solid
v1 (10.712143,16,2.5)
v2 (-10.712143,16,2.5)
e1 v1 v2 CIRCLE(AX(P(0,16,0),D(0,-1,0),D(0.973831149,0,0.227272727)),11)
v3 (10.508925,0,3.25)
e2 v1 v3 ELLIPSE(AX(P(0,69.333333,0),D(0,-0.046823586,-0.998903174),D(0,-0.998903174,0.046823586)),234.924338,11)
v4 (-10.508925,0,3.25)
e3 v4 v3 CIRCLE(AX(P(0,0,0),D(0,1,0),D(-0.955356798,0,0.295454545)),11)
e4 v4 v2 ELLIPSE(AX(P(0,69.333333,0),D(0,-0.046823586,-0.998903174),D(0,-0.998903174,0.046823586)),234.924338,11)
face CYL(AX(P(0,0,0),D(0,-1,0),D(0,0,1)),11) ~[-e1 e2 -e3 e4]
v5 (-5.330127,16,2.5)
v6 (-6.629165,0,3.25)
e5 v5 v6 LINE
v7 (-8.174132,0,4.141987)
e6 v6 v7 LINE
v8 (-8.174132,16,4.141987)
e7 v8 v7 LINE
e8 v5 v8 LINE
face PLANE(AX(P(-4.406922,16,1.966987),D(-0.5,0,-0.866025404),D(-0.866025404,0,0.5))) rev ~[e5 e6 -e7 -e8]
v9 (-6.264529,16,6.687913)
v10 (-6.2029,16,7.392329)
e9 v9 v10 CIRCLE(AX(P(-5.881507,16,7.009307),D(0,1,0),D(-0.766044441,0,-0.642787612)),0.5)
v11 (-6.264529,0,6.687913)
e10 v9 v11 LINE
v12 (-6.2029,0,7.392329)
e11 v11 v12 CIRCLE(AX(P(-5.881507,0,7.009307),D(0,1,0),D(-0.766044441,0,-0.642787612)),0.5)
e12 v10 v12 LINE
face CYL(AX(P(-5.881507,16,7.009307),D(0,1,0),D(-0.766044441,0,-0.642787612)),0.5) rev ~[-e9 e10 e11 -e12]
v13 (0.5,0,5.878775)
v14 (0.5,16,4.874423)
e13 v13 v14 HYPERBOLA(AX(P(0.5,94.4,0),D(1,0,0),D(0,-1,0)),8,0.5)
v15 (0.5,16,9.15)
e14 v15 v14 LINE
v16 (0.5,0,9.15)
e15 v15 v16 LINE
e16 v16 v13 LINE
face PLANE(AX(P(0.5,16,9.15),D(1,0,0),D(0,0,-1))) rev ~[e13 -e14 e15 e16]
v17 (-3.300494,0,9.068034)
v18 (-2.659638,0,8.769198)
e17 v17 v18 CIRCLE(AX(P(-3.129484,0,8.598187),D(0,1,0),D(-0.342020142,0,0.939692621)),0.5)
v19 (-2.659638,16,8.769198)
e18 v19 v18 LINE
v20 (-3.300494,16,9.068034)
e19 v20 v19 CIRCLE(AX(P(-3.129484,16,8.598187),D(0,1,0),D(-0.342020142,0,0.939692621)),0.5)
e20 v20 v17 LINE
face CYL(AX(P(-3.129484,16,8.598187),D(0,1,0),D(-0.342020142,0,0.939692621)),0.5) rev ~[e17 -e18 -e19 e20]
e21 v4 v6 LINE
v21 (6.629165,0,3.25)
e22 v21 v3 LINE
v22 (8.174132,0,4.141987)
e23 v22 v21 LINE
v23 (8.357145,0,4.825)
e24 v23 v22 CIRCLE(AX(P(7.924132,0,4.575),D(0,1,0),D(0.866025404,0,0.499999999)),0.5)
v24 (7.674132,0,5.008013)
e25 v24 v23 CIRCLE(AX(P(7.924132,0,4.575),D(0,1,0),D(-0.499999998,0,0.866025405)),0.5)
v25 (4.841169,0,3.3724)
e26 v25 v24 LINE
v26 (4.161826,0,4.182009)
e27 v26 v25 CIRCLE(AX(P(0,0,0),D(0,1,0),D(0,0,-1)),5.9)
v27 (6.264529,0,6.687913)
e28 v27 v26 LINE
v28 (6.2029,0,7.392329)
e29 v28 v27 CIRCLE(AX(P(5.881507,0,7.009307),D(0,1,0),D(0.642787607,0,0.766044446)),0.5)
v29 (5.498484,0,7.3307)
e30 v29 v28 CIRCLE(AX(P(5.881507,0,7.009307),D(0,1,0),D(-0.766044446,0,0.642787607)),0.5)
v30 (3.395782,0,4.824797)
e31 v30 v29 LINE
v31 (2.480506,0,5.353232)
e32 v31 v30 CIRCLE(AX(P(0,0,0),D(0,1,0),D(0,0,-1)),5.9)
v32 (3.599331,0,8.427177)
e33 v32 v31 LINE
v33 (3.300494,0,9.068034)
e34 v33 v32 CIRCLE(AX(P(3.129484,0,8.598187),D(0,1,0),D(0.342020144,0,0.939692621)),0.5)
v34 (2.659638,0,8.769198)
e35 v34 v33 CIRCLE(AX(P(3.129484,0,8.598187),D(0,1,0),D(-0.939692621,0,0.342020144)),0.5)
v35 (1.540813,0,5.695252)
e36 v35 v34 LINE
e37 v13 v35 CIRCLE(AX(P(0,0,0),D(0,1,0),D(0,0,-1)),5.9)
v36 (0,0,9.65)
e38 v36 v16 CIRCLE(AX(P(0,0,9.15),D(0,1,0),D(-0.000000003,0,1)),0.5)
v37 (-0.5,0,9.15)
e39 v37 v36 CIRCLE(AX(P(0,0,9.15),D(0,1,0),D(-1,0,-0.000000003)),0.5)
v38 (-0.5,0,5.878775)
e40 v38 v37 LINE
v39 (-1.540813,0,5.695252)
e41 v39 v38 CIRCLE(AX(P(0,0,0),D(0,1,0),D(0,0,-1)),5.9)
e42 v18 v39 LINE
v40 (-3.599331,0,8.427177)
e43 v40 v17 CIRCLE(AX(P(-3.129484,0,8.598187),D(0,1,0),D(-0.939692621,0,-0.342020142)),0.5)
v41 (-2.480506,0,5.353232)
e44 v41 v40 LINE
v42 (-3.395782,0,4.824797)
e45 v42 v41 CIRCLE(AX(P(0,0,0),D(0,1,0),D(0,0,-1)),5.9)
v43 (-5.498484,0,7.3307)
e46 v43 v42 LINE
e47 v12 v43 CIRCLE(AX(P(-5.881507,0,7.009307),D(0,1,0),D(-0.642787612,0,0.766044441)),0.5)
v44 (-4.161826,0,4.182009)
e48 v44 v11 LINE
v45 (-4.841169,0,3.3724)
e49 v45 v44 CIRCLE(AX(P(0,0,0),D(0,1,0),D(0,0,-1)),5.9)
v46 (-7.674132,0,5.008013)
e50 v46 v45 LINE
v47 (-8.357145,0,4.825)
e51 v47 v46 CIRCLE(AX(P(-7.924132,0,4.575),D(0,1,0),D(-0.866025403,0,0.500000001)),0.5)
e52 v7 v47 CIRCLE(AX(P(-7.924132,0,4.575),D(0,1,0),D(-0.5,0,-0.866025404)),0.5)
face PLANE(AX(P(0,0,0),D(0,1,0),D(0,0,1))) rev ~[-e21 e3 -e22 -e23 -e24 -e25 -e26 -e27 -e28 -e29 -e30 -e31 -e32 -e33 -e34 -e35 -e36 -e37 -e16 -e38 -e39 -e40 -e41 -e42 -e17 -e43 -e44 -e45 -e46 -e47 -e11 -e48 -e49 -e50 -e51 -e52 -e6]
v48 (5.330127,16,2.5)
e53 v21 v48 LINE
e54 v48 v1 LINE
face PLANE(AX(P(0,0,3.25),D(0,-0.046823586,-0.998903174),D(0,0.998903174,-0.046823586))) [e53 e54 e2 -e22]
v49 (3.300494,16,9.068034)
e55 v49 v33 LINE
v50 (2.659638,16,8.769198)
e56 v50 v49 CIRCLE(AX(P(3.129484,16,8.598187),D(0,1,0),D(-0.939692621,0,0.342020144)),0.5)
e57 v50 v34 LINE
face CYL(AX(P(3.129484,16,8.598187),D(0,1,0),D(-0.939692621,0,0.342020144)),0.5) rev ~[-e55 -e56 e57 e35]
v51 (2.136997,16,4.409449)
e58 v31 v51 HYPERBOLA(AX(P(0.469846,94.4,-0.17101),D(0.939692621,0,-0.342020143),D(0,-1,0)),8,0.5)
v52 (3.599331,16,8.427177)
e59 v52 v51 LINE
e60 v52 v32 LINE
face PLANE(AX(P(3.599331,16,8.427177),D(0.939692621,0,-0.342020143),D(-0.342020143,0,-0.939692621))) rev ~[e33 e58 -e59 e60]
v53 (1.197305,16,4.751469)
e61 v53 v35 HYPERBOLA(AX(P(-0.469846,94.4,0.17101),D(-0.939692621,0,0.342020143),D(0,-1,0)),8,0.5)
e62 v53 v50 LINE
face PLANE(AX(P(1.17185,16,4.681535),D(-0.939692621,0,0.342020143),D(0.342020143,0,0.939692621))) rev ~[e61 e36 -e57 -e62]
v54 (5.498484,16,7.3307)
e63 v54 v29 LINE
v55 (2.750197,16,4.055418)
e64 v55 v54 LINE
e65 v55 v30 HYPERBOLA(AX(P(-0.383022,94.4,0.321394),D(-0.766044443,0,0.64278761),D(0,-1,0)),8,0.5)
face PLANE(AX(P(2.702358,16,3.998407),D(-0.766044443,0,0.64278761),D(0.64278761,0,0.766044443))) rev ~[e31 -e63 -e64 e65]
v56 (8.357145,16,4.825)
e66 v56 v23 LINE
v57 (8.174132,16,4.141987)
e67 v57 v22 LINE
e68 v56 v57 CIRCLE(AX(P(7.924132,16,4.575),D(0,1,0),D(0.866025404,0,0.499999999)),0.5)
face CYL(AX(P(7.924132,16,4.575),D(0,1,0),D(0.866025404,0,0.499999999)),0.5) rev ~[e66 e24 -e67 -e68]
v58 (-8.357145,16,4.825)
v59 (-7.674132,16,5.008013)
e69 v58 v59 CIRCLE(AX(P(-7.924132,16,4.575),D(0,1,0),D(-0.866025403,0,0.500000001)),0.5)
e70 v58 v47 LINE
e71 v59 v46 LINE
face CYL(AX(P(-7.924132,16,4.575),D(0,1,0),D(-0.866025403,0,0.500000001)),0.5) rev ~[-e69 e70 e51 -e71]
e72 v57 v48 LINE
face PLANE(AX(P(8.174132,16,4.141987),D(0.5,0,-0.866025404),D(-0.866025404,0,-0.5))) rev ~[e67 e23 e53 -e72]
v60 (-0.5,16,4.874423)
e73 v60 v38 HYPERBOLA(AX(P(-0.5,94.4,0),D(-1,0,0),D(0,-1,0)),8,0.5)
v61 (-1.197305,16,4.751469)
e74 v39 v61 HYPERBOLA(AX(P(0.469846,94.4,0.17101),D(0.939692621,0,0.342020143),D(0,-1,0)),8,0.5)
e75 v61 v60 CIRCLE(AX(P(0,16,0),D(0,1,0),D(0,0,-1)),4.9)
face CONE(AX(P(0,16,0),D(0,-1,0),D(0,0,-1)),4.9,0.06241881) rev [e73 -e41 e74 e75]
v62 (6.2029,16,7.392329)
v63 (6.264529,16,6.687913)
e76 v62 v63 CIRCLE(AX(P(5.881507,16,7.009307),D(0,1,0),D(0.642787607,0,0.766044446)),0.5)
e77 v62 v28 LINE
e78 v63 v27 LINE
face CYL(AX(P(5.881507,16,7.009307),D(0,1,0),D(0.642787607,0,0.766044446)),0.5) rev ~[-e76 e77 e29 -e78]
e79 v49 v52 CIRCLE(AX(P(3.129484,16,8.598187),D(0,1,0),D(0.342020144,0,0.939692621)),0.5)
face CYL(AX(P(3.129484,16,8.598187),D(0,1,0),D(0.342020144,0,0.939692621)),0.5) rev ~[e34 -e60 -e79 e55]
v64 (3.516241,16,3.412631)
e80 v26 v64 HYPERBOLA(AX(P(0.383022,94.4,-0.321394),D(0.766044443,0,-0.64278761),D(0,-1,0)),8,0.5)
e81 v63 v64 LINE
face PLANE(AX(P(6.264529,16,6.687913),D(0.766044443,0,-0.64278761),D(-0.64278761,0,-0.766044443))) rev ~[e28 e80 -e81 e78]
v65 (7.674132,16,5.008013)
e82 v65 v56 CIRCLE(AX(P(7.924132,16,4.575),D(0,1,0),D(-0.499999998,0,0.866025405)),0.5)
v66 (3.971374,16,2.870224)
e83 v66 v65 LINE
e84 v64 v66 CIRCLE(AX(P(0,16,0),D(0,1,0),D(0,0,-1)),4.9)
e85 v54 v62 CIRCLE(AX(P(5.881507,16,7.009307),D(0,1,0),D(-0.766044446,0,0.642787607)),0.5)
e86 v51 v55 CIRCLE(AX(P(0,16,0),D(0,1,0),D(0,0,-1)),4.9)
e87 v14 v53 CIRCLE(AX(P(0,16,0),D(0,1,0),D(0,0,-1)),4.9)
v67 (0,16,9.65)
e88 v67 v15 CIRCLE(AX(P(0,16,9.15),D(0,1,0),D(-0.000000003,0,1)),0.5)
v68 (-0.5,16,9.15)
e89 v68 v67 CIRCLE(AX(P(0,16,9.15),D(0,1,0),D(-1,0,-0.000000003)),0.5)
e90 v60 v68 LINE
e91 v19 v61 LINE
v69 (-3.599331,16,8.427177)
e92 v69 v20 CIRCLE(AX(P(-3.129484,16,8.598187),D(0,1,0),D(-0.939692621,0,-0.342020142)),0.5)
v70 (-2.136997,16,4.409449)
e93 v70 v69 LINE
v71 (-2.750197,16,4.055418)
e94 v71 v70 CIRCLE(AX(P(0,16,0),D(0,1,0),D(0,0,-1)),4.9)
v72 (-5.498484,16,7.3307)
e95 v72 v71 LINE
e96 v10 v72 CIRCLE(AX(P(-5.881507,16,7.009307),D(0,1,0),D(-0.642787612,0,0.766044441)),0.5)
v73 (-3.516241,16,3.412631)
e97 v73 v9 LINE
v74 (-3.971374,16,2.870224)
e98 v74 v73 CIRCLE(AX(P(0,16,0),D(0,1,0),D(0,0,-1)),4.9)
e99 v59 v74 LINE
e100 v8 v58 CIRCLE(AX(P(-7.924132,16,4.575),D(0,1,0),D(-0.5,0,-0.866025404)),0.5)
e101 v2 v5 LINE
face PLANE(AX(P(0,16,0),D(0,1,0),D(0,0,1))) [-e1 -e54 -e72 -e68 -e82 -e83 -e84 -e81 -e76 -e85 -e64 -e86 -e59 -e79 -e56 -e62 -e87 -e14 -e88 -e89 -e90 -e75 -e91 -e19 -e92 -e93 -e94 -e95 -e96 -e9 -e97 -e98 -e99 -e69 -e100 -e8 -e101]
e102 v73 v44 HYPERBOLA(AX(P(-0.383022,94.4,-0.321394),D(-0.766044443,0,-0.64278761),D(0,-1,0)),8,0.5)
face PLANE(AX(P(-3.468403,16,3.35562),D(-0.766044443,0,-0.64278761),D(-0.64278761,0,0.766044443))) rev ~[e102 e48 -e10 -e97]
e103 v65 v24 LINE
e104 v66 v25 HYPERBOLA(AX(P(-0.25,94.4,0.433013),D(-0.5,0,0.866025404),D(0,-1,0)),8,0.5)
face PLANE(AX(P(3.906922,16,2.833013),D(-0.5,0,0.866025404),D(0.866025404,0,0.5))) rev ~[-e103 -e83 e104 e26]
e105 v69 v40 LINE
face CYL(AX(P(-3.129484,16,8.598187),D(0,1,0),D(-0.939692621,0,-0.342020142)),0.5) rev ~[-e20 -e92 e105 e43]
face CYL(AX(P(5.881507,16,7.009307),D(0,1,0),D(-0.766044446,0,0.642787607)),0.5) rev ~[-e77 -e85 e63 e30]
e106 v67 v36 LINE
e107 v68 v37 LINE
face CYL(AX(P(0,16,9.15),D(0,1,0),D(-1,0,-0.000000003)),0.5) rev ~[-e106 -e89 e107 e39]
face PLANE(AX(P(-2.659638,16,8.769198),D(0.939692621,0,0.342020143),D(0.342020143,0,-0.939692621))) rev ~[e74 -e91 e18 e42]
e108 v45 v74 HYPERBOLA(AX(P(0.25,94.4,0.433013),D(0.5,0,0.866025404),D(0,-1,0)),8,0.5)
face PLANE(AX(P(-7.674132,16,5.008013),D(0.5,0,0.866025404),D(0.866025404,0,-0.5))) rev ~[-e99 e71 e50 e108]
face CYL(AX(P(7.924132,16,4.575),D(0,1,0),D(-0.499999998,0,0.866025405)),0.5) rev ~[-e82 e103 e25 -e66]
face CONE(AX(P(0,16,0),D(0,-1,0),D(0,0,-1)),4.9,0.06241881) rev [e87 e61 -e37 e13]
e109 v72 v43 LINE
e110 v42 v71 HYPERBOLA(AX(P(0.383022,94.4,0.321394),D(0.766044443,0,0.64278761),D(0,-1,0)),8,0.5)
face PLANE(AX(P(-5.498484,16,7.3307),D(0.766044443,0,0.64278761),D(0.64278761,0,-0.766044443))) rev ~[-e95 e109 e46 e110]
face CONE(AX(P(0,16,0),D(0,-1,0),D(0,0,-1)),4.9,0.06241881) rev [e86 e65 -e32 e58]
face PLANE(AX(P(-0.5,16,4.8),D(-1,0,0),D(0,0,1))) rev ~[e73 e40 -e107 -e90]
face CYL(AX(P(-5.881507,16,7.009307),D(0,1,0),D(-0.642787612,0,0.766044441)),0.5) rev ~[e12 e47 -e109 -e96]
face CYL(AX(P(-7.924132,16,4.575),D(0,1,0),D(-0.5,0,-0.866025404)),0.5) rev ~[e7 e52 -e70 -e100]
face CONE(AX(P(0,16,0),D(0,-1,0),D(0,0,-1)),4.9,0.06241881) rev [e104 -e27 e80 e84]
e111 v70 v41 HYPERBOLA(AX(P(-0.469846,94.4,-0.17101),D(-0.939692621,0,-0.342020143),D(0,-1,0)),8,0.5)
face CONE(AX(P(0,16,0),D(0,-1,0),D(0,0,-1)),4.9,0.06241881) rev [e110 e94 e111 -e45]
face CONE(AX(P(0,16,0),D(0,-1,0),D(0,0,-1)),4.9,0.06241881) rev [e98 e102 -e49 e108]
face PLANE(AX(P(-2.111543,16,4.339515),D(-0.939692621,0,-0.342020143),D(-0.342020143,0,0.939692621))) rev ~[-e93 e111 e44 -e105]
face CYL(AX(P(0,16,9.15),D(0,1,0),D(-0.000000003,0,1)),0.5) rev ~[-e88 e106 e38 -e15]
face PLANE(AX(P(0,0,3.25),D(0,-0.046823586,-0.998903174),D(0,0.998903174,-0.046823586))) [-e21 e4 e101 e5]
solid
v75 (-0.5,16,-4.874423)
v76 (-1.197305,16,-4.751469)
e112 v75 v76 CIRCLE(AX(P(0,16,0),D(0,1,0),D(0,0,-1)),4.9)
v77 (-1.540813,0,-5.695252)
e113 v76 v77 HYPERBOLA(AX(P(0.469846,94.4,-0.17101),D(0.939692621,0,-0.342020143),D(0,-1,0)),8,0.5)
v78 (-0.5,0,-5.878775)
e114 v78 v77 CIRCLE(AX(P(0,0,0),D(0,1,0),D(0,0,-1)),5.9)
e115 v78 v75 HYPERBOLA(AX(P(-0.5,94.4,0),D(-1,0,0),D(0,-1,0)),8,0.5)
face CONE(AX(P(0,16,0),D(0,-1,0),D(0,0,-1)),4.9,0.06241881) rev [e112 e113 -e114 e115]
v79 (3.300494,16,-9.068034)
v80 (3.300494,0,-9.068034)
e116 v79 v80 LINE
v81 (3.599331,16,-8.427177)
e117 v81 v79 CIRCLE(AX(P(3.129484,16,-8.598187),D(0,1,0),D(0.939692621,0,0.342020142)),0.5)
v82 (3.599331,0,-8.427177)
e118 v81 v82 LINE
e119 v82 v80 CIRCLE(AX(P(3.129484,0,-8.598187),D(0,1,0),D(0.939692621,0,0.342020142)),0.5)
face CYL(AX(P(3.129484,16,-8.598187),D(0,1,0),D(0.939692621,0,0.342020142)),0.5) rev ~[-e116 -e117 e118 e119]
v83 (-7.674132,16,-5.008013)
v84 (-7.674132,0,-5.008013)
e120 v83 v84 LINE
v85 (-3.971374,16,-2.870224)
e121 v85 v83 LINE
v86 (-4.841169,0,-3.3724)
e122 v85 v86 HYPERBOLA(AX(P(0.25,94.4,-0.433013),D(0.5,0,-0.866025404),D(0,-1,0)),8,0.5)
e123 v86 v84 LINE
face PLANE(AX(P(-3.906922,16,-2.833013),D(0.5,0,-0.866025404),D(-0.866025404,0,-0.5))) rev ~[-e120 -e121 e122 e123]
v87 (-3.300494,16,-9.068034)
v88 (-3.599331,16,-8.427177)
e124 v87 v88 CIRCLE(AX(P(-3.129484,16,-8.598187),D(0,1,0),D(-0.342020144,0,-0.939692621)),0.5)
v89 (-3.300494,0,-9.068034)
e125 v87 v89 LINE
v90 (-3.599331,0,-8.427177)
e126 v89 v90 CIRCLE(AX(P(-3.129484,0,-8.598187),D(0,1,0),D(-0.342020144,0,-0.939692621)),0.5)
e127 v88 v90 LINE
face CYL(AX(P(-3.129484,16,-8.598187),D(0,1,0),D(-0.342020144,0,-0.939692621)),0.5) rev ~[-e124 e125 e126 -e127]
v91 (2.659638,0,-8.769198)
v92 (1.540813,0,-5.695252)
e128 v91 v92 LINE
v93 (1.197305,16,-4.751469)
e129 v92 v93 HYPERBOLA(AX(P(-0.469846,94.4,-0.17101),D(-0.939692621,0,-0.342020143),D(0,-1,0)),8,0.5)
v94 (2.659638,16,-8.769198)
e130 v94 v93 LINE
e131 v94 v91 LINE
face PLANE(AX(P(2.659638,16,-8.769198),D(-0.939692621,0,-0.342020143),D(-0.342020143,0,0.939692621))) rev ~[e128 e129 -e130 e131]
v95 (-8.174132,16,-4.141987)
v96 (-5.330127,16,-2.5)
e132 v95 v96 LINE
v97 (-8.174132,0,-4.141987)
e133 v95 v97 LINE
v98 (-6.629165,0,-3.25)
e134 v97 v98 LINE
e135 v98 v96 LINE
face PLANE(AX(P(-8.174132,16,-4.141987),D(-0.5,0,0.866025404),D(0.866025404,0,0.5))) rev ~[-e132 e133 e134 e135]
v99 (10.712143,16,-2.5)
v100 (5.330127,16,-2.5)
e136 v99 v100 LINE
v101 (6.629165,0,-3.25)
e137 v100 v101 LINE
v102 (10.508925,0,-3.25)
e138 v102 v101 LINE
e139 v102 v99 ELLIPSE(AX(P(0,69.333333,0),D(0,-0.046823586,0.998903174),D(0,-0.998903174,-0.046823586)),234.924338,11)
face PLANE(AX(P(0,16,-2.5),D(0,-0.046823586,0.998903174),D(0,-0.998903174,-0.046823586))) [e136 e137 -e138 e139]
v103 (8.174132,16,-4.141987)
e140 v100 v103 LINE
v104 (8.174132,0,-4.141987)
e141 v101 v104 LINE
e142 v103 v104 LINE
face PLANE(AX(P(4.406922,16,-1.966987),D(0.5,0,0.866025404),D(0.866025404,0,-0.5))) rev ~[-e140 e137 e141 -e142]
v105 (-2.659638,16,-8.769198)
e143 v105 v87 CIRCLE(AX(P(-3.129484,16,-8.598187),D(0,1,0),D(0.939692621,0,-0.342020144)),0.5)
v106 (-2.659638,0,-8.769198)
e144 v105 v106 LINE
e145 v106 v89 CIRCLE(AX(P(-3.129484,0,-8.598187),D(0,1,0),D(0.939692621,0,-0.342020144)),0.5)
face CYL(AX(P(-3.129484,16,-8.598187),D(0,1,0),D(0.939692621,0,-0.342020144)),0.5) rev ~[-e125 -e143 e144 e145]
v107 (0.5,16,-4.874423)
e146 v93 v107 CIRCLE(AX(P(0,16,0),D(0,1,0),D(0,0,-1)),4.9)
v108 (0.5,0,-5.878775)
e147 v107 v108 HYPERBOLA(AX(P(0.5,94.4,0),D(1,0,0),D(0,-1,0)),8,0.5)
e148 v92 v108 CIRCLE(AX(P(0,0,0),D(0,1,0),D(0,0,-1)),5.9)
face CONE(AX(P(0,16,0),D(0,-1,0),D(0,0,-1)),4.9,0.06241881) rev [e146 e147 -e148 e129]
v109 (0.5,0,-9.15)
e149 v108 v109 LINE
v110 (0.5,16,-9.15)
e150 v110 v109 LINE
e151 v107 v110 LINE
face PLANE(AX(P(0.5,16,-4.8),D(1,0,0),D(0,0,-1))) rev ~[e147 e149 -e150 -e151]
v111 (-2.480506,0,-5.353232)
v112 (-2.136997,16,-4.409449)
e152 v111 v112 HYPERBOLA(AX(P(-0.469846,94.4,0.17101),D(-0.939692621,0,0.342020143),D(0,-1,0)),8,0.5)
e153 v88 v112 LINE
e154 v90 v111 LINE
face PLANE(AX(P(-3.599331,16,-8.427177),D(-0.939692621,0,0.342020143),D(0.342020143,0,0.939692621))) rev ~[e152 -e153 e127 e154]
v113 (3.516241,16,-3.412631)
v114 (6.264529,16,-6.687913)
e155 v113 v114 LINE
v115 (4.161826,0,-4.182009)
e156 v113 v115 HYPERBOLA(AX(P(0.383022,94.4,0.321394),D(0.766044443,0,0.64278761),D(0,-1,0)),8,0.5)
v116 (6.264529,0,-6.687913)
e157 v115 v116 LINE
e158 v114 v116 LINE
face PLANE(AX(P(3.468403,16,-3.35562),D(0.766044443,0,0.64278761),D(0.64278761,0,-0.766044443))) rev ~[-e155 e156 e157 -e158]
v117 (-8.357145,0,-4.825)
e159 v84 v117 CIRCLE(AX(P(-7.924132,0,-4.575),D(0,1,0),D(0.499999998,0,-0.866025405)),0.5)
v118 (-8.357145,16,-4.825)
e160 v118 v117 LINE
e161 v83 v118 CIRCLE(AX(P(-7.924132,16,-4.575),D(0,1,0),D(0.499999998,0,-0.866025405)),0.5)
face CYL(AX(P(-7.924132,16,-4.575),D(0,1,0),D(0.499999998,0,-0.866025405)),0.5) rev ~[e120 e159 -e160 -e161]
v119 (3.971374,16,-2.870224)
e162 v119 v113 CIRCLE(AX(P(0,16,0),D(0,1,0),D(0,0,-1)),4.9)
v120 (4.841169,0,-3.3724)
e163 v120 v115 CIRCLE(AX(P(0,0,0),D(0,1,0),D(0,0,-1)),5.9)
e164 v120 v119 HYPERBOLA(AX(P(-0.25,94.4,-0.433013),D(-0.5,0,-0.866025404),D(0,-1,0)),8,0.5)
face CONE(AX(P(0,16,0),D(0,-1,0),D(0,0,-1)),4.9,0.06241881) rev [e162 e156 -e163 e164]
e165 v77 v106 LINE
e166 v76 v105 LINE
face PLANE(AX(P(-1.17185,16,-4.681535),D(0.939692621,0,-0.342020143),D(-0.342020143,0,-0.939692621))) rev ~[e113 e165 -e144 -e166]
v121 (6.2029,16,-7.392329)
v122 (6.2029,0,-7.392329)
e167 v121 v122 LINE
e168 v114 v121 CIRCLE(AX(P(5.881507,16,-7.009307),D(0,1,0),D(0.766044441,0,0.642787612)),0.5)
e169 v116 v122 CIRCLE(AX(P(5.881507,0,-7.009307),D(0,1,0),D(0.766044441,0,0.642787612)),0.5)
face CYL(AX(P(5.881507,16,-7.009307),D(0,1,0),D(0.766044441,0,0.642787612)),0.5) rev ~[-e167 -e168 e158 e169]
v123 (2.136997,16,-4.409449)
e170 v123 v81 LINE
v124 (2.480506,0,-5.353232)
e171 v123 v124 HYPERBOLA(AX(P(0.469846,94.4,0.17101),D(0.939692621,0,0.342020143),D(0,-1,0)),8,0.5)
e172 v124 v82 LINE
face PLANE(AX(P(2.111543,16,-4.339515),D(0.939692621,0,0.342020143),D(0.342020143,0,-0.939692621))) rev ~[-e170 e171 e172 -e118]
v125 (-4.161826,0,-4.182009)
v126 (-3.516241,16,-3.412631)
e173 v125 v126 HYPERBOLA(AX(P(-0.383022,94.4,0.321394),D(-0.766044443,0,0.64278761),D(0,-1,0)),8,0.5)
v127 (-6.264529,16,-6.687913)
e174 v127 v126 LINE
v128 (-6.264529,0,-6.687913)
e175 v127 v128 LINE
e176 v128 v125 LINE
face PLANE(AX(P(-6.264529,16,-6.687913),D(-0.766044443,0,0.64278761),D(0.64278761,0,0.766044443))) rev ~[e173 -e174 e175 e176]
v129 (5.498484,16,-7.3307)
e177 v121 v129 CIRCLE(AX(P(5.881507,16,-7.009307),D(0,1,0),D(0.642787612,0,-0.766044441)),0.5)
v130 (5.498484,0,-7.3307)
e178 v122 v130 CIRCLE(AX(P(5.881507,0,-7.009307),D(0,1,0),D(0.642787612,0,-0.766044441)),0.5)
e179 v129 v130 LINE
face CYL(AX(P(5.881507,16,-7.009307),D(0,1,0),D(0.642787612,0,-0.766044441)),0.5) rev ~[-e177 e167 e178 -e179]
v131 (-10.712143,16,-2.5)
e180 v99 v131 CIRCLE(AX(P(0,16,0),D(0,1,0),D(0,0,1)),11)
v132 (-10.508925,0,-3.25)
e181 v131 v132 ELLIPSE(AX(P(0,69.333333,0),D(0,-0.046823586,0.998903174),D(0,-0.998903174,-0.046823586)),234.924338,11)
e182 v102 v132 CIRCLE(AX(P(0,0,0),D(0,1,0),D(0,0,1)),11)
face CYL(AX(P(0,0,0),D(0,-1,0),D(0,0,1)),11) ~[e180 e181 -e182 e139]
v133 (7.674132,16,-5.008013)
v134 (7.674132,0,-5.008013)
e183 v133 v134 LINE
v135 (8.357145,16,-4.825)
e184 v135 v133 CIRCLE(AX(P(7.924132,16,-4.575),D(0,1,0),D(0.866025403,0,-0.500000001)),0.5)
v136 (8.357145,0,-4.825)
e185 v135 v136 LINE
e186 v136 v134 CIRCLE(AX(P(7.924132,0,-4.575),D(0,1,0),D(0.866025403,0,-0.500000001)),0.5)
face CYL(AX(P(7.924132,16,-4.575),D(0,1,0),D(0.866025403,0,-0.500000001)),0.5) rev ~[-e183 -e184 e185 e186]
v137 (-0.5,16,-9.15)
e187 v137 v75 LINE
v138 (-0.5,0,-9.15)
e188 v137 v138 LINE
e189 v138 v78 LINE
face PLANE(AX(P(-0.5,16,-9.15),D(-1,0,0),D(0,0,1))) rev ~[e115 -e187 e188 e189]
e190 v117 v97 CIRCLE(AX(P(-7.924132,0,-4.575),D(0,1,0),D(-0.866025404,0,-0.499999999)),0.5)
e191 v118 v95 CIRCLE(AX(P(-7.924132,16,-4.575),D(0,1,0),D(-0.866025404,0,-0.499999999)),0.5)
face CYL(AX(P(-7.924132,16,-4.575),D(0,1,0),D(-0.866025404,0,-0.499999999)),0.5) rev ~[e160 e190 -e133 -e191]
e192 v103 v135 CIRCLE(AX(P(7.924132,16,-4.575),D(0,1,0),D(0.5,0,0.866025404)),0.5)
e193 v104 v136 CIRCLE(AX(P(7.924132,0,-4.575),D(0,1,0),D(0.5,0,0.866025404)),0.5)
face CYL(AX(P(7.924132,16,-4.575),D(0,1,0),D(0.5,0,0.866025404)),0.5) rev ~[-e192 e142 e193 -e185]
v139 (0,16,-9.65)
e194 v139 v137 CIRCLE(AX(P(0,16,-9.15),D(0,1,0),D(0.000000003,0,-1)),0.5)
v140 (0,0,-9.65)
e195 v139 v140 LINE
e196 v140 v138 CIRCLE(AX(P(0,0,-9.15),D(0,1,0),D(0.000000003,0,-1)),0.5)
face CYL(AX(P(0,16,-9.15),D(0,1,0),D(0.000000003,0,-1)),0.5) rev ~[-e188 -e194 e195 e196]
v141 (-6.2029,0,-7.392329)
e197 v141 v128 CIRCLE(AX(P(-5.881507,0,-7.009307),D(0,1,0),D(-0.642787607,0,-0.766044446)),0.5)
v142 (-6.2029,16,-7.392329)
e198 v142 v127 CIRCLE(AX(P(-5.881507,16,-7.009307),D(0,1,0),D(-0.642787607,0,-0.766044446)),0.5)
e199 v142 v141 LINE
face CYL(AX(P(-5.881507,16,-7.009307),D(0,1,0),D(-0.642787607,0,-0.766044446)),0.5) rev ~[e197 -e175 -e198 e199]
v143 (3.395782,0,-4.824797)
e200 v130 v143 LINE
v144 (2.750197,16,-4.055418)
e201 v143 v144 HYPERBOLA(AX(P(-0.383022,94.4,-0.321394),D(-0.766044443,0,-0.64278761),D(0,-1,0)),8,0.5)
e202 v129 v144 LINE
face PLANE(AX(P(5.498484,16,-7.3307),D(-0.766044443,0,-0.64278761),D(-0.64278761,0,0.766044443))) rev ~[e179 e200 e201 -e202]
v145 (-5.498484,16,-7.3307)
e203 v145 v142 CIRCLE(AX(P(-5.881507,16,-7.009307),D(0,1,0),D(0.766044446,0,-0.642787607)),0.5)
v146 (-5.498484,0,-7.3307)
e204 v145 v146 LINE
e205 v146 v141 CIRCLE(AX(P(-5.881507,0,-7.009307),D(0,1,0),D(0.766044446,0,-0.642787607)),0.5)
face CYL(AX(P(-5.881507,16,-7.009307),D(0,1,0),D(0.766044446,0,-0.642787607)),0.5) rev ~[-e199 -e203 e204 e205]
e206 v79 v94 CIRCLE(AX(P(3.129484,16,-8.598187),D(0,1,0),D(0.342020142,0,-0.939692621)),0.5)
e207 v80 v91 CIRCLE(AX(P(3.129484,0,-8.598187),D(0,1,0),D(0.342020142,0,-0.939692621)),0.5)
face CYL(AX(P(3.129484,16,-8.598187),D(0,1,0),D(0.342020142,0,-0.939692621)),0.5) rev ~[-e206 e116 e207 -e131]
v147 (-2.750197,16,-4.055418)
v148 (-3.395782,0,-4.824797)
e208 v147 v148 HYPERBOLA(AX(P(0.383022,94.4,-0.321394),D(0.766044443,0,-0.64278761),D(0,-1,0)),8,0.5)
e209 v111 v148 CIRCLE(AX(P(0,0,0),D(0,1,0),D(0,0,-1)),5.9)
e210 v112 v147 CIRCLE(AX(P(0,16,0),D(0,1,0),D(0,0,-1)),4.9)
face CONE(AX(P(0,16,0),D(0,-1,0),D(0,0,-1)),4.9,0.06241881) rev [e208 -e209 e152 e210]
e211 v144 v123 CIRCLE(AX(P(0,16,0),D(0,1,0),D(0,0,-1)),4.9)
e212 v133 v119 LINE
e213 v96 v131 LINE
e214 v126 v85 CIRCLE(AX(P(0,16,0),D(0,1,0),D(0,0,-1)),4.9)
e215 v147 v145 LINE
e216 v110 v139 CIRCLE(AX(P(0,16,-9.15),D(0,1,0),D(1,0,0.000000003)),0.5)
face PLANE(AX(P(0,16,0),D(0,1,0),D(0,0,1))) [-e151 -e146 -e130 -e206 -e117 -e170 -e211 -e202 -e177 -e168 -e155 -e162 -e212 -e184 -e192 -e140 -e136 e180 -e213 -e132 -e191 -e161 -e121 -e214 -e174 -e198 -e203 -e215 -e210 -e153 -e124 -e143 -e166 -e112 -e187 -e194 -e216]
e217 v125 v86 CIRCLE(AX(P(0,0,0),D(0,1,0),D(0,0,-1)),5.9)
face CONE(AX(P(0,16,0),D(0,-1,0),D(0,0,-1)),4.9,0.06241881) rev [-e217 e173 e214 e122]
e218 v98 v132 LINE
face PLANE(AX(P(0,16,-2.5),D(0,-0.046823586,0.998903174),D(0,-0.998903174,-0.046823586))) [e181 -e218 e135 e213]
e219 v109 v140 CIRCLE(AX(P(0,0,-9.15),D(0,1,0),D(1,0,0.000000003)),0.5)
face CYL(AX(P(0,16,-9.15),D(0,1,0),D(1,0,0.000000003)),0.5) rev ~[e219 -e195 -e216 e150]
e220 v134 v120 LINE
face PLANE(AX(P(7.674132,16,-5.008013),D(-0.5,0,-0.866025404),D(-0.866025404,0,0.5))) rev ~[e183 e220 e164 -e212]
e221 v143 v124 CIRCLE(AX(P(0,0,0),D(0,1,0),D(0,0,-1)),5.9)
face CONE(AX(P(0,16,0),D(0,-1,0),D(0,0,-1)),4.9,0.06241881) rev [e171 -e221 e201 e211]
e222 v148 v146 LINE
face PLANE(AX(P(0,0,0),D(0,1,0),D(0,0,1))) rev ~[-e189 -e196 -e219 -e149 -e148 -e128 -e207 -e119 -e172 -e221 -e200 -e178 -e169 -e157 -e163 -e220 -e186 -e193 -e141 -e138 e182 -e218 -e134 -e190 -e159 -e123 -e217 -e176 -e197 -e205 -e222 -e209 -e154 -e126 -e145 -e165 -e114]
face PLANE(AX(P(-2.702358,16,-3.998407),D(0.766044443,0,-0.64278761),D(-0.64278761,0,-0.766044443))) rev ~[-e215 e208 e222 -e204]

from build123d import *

# Parameters (mm, degrees)
SKETCH1_R           = 11
BOSS_EXTRUDE1_DEPTH = 16
CUT_EXTRUDE1_DEPTH  = 23.315913604
CUT_EXTRUDE2_DEPTH  = 15


with BuildPart() as part:
    # Sketch1 → Boss-Extrude1 (new body)
    with BuildSketch(Plane(origin=(0, 0, 0), x_dir=(1, 0, 0), z_dir=(0, 1, 0))):
        with Locations(Location((0, 0, 0), (0, 0, 270))):
            Circle(SKETCH1_R)
    extrude(amount=BOSS_EXTRUDE1_DEPTH)

    # Sketch2 → Cut-Revolve1 (revolve, cut)
    with BuildSketch(Plane(origin=(0, 0, 0), x_dir=(0, 0, -1), z_dir=(1, 0, 0))):
        Polygon((0, 0), (0, 16), (4.9, 16), (5.9, 0), align=None)
    revolve(axis=Axis((0, 0, 0), (0, 1, 0)), mode=Mode.SUBTRACT)

    # Sketch3 → Cut-Extrude1 (cut, through all)
    with BuildSketch(Plane(origin=(0, 16, 0), x_dir=(1, 0, 0), z_dir=(0, 1, 0))):
        with BuildLine():
            Line((-0.5, 4.8), (0.5, 4.8))
            Line((0.5, 4.8), (0.5, 9.15))
            ThreePointArc((0.5, 9.15), (0.353553391, 9.503553391), (0, 9.65))
            ThreePointArc((0, 9.65), (-0.353553391, 9.503553391), (-0.5, 9.15))
            Line((-0.5, 9.15), (-0.5, 4.8))
        make_face()
        with BuildLine():
            Line((1.171850378, 4.681534651), (2.111542998, 4.339514508))
            Line((2.111542998, 4.339514508), (3.599330622, 8.427177409))
            ThreePointArc((3.599330622, 8.427177409), (3.582638205, 8.809496611), (3.300494383, 9.068033791))
            ThreePointArc((3.300494383, 9.068033791), (2.918175181, 9.051341374), (2.659638001, 8.769197552))
            Line((2.659638001, 8.769197552), (1.171850378, 4.681534651))
        make_face()
        with BuildLine():
            Line((2.702358305, 3.998407132), (3.468402748, 3.355619522))
            Line((3.468402748, 3.355619522), (6.26452885, 6.68791285))
            ThreePointArc((6.26452885, 6.68791285), (6.379603978, 7.052884526), (6.202900433, 7.392328876))
            ThreePointArc((6.202900433, 7.392328876), (5.837928757, 7.507404004), (5.498484407, 7.330700459))
            Line((5.498484407, 7.330700459), (2.702358305, 3.998407132))
        make_face()
        with BuildLine():
            Line((3.906921938, 2.833012702), (4.406921938, 1.966987298))
            Line((4.406921938, 1.966987298), (8.174132445, 4.141987298))
            ThreePointArc((8.174132445, 4.141987298), (8.407095358, 4.445590477), (8.357145147, 4.825))
            ThreePointArc((8.357145147, 4.825), (8.053541967, 5.057962913), (7.674132445, 5.008012702))
            Line((7.674132445, 5.008012702), (3.906921938, 2.833012702))
        make_face()
        with BuildLine():
            Line((4.640253126, 1.325915129), (4.813901303, 0.341107376))
            Line((4.813901303, 0.341107376), (9.097815029, 1.096476949))
            ThreePointArc((9.097815029, 1.096476949), (9.420566962, 1.302092607), (9.503394817, 1.675704914))
            ThreePointArc((9.503394817, 1.675704914), (9.297779158, 1.998456848), (8.924166851, 2.081284702))
            Line((8.924166851, 2.081284702), (4.640253126, 1.325915129))
        make_face()
        with BuildLine():
            Line((4.813901303, -0.341107376), (4.640253126, -1.325915129))
            Line((4.640253126, -1.325915129), (8.924166851, -2.081284702))
            ThreePointArc((8.924166851, -2.081284702), (9.297779158, -1.998456848), (9.503394817, -1.675704914))
            ThreePointArc((9.503394817, -1.675704914), (9.420566962, -1.302092607), (9.097815029, -1.096476949))
            Line((9.097815029, -1.096476949), (4.813901303, -0.341107376))
        make_face()
        with BuildLine():
            Line((4.406921938, -1.966987298), (3.906921938, -2.833012702))
            Line((3.906921938, -2.833012702), (7.674132445, -5.008012702))
            ThreePointArc((7.674132445, -5.008012702), (8.053541967, -5.057962913), (8.357145147, -4.825))
            ThreePointArc((8.357145147, -4.825), (8.407095358, -4.445590477), (8.174132445, -4.141987298))
            Line((8.174132445, -4.141987298), (4.406921938, -1.966987298))
        make_face()
        with BuildLine():
            Line((3.468402748, -3.355619522), (2.702358305, -3.998407132))
            Line((2.702358305, -3.998407132), (5.498484407, -7.330700459))
            ThreePointArc((5.498484407, -7.330700459), (5.837928757, -7.507404004), (6.202900433, -7.392328876))
            ThreePointArc((6.202900433, -7.392328876), (6.379603978, -7.052884526), (6.26452885, -6.68791285))
            Line((6.26452885, -6.68791285), (3.468402748, -3.355619522))
        make_face()
        with BuildLine():
            Line((2.111542998, -4.339514508), (1.171850378, -4.681534651))
            Line((1.171850378, -4.681534651), (2.659638001, -8.769197552))
            ThreePointArc((2.659638001, -8.769197552), (2.918175181, -9.051341374), (3.300494383, -9.068033791))
            ThreePointArc((3.300494383, -9.068033791), (3.582638205, -8.809496611), (3.599330622, -8.427177409))
            Line((3.599330622, -8.427177409), (2.111542998, -4.339514508))
        make_face()
        with BuildLine():
            Line((0.5, -4.8), (-0.5, -4.8))
            Line((-0.5, -4.8), (-0.5, -9.15))
            ThreePointArc((-0.5, -9.15), (-0.353553391, -9.503553391), (0, -9.65))
            ThreePointArc((0, -9.65), (0.353553391, -9.503553391), (0.5, -9.15))
            Line((0.5, -9.15), (0.5, -4.8))
        make_face()
        with BuildLine():
            Line((-1.171850378, -4.681534651), (-2.111542998, -4.339514508))
            Line((-2.111542998, -4.339514508), (-3.599330622, -8.427177409))
            ThreePointArc((-3.599330622, -8.427177409), (-3.582638205, -8.809496611), (-3.300494383, -9.068033791))
            ThreePointArc((-3.300494383, -9.068033791), (-2.918175181, -9.051341374), (-2.659638001, -8.769197552))
            Line((-2.659638001, -8.769197552), (-1.171850378, -4.681534651))
        make_face()
        with BuildLine():
            Line((-2.702358305, -3.998407132), (-3.468402748, -3.355619522))
            Line((-3.468402748, -3.355619522), (-6.26452885, -6.68791285))
            ThreePointArc((-6.26452885, -6.68791285), (-6.379603978, -7.052884526), (-6.202900433, -7.392328876))
            ThreePointArc((-6.202900433, -7.392328876), (-5.837928757, -7.507404004), (-5.498484407, -7.330700459))
            Line((-5.498484407, -7.330700459), (-2.702358305, -3.998407132))
        make_face()
        with BuildLine():
            Line((-3.906921938, -2.833012702), (-4.406921938, -1.966987298))
            Line((-4.406921938, -1.966987298), (-8.174132445, -4.141987298))
            ThreePointArc((-8.174132445, -4.141987298), (-8.407095358, -4.445590477), (-8.357145147, -4.825))
            ThreePointArc((-8.357145147, -4.825), (-8.053541967, -5.057962913), (-7.674132445, -5.008012702))
            Line((-7.674132445, -5.008012702), (-3.906921938, -2.833012702))
        make_face()
        with BuildLine():
            Line((-4.640253126, -1.325915129), (-4.813901303, -0.341107376))
            Line((-4.813901303, -0.341107376), (-9.097815029, -1.096476949))
            ThreePointArc((-9.097815029, -1.096476949), (-9.420566962, -1.302092607), (-9.503394817, -1.675704914))
            ThreePointArc((-9.503394817, -1.675704914), (-9.297779158, -1.998456848), (-8.924166851, -2.081284702))
            Line((-8.924166851, -2.081284702), (-4.640253126, -1.325915129))
        make_face()
        with BuildLine():
            Line((-4.813901303, 0.341107376), (-4.640253126, 1.325915129))
            Line((-4.640253126, 1.325915129), (-8.924166851, 2.081284702))
            ThreePointArc((-8.924166851, 2.081284702), (-9.297779158, 1.998456848), (-9.503394817, 1.675704914))
            ThreePointArc((-9.503394817, 1.675704914), (-9.420566962, 1.302092607), (-9.097815029, 1.096476949))
            Line((-9.097815029, 1.096476949), (-4.813901303, 0.341107376))
        make_face()
        with BuildLine():
            Line((-4.406921938, 1.966987298), (-3.906921938, 2.833012702))
            Line((-3.906921938, 2.833012702), (-7.674132445, 5.008012702))
            ThreePointArc((-7.674132445, 5.008012702), (-8.053541967, 5.057962913), (-8.357145147, 4.825))
            ThreePointArc((-8.357145147, 4.825), (-8.407095358, 4.445590477), (-8.174132445, 4.141987298))
            Line((-8.174132445, 4.141987298), (-4.406921938, 1.966987298))
        make_face()
        with BuildLine():
            Line((-3.468402748, 3.355619522), (-2.702358305, 3.998407132))
            Line((-2.702358305, 3.998407132), (-5.498484407, 7.330700459))
            ThreePointArc((-5.498484407, 7.330700459), (-5.837928757, 7.507404004), (-6.202900433, 7.392328876))
            ThreePointArc((-6.202900433, 7.392328876), (-6.379603978, 7.052884526), (-6.26452885, 6.68791285))
            Line((-6.26452885, 6.68791285), (-3.468402748, 3.355619522))
        make_face()
        with BuildLine():
            Line((-2.111542998, 4.339514508), (-1.171850378, 4.681534651))
            Line((-1.171850378, 4.681534651), (-2.659638001, 8.769197552))
            ThreePointArc((-2.659638001, 8.769197552), (-2.918175181, 9.051341374), (-3.300494383, 9.068033791))
            ThreePointArc((-3.300494383, 9.068033791), (-3.582638205, 8.809496611), (-3.599330622, 8.427177409))
            Line((-3.599330622, 8.427177409), (-2.111542998, 4.339514508))
        make_face()
    extrude(amount=-CUT_EXTRUDE1_DEPTH, mode=Mode.SUBTRACT)

    # Sketch4 → Cut-Extrude2 (cut, symmetric)
    with BuildSketch(Plane(origin=(0, 0, 0), x_dir=(0, 0, -1), z_dir=(1, 0, 0))):
        Polygon((0, 16), (2.5, 16), (3.25, 0), (-3.25, 0), (-2.5, 16), align=None)
    extrude(amount=CUT_EXTRUDE2_DEPTH, both=True, mode=Mode.SUBTRACT)


with BuildPart() as cut_extrude2_piece_1:
    # of the separate pieces the step leaves, piece 1, a body of its own (cut_extrude2_pieces)
    add(part.part.solids().sort_by_distance((-10.508924778, 0, 3.25))[0])


with BuildPart() as cut_extrude2_piece_2:
    # of the separate pieces the step leaves, piece 2, a body of its own (cut_extrude2_pieces)
    add(part.part.solids().sort_by_distance((10.508924778, 0, -3.25))[0])


solid = Compound([cut_extrude2_piece_1.part, cut_extrude2_piece_2.part])
